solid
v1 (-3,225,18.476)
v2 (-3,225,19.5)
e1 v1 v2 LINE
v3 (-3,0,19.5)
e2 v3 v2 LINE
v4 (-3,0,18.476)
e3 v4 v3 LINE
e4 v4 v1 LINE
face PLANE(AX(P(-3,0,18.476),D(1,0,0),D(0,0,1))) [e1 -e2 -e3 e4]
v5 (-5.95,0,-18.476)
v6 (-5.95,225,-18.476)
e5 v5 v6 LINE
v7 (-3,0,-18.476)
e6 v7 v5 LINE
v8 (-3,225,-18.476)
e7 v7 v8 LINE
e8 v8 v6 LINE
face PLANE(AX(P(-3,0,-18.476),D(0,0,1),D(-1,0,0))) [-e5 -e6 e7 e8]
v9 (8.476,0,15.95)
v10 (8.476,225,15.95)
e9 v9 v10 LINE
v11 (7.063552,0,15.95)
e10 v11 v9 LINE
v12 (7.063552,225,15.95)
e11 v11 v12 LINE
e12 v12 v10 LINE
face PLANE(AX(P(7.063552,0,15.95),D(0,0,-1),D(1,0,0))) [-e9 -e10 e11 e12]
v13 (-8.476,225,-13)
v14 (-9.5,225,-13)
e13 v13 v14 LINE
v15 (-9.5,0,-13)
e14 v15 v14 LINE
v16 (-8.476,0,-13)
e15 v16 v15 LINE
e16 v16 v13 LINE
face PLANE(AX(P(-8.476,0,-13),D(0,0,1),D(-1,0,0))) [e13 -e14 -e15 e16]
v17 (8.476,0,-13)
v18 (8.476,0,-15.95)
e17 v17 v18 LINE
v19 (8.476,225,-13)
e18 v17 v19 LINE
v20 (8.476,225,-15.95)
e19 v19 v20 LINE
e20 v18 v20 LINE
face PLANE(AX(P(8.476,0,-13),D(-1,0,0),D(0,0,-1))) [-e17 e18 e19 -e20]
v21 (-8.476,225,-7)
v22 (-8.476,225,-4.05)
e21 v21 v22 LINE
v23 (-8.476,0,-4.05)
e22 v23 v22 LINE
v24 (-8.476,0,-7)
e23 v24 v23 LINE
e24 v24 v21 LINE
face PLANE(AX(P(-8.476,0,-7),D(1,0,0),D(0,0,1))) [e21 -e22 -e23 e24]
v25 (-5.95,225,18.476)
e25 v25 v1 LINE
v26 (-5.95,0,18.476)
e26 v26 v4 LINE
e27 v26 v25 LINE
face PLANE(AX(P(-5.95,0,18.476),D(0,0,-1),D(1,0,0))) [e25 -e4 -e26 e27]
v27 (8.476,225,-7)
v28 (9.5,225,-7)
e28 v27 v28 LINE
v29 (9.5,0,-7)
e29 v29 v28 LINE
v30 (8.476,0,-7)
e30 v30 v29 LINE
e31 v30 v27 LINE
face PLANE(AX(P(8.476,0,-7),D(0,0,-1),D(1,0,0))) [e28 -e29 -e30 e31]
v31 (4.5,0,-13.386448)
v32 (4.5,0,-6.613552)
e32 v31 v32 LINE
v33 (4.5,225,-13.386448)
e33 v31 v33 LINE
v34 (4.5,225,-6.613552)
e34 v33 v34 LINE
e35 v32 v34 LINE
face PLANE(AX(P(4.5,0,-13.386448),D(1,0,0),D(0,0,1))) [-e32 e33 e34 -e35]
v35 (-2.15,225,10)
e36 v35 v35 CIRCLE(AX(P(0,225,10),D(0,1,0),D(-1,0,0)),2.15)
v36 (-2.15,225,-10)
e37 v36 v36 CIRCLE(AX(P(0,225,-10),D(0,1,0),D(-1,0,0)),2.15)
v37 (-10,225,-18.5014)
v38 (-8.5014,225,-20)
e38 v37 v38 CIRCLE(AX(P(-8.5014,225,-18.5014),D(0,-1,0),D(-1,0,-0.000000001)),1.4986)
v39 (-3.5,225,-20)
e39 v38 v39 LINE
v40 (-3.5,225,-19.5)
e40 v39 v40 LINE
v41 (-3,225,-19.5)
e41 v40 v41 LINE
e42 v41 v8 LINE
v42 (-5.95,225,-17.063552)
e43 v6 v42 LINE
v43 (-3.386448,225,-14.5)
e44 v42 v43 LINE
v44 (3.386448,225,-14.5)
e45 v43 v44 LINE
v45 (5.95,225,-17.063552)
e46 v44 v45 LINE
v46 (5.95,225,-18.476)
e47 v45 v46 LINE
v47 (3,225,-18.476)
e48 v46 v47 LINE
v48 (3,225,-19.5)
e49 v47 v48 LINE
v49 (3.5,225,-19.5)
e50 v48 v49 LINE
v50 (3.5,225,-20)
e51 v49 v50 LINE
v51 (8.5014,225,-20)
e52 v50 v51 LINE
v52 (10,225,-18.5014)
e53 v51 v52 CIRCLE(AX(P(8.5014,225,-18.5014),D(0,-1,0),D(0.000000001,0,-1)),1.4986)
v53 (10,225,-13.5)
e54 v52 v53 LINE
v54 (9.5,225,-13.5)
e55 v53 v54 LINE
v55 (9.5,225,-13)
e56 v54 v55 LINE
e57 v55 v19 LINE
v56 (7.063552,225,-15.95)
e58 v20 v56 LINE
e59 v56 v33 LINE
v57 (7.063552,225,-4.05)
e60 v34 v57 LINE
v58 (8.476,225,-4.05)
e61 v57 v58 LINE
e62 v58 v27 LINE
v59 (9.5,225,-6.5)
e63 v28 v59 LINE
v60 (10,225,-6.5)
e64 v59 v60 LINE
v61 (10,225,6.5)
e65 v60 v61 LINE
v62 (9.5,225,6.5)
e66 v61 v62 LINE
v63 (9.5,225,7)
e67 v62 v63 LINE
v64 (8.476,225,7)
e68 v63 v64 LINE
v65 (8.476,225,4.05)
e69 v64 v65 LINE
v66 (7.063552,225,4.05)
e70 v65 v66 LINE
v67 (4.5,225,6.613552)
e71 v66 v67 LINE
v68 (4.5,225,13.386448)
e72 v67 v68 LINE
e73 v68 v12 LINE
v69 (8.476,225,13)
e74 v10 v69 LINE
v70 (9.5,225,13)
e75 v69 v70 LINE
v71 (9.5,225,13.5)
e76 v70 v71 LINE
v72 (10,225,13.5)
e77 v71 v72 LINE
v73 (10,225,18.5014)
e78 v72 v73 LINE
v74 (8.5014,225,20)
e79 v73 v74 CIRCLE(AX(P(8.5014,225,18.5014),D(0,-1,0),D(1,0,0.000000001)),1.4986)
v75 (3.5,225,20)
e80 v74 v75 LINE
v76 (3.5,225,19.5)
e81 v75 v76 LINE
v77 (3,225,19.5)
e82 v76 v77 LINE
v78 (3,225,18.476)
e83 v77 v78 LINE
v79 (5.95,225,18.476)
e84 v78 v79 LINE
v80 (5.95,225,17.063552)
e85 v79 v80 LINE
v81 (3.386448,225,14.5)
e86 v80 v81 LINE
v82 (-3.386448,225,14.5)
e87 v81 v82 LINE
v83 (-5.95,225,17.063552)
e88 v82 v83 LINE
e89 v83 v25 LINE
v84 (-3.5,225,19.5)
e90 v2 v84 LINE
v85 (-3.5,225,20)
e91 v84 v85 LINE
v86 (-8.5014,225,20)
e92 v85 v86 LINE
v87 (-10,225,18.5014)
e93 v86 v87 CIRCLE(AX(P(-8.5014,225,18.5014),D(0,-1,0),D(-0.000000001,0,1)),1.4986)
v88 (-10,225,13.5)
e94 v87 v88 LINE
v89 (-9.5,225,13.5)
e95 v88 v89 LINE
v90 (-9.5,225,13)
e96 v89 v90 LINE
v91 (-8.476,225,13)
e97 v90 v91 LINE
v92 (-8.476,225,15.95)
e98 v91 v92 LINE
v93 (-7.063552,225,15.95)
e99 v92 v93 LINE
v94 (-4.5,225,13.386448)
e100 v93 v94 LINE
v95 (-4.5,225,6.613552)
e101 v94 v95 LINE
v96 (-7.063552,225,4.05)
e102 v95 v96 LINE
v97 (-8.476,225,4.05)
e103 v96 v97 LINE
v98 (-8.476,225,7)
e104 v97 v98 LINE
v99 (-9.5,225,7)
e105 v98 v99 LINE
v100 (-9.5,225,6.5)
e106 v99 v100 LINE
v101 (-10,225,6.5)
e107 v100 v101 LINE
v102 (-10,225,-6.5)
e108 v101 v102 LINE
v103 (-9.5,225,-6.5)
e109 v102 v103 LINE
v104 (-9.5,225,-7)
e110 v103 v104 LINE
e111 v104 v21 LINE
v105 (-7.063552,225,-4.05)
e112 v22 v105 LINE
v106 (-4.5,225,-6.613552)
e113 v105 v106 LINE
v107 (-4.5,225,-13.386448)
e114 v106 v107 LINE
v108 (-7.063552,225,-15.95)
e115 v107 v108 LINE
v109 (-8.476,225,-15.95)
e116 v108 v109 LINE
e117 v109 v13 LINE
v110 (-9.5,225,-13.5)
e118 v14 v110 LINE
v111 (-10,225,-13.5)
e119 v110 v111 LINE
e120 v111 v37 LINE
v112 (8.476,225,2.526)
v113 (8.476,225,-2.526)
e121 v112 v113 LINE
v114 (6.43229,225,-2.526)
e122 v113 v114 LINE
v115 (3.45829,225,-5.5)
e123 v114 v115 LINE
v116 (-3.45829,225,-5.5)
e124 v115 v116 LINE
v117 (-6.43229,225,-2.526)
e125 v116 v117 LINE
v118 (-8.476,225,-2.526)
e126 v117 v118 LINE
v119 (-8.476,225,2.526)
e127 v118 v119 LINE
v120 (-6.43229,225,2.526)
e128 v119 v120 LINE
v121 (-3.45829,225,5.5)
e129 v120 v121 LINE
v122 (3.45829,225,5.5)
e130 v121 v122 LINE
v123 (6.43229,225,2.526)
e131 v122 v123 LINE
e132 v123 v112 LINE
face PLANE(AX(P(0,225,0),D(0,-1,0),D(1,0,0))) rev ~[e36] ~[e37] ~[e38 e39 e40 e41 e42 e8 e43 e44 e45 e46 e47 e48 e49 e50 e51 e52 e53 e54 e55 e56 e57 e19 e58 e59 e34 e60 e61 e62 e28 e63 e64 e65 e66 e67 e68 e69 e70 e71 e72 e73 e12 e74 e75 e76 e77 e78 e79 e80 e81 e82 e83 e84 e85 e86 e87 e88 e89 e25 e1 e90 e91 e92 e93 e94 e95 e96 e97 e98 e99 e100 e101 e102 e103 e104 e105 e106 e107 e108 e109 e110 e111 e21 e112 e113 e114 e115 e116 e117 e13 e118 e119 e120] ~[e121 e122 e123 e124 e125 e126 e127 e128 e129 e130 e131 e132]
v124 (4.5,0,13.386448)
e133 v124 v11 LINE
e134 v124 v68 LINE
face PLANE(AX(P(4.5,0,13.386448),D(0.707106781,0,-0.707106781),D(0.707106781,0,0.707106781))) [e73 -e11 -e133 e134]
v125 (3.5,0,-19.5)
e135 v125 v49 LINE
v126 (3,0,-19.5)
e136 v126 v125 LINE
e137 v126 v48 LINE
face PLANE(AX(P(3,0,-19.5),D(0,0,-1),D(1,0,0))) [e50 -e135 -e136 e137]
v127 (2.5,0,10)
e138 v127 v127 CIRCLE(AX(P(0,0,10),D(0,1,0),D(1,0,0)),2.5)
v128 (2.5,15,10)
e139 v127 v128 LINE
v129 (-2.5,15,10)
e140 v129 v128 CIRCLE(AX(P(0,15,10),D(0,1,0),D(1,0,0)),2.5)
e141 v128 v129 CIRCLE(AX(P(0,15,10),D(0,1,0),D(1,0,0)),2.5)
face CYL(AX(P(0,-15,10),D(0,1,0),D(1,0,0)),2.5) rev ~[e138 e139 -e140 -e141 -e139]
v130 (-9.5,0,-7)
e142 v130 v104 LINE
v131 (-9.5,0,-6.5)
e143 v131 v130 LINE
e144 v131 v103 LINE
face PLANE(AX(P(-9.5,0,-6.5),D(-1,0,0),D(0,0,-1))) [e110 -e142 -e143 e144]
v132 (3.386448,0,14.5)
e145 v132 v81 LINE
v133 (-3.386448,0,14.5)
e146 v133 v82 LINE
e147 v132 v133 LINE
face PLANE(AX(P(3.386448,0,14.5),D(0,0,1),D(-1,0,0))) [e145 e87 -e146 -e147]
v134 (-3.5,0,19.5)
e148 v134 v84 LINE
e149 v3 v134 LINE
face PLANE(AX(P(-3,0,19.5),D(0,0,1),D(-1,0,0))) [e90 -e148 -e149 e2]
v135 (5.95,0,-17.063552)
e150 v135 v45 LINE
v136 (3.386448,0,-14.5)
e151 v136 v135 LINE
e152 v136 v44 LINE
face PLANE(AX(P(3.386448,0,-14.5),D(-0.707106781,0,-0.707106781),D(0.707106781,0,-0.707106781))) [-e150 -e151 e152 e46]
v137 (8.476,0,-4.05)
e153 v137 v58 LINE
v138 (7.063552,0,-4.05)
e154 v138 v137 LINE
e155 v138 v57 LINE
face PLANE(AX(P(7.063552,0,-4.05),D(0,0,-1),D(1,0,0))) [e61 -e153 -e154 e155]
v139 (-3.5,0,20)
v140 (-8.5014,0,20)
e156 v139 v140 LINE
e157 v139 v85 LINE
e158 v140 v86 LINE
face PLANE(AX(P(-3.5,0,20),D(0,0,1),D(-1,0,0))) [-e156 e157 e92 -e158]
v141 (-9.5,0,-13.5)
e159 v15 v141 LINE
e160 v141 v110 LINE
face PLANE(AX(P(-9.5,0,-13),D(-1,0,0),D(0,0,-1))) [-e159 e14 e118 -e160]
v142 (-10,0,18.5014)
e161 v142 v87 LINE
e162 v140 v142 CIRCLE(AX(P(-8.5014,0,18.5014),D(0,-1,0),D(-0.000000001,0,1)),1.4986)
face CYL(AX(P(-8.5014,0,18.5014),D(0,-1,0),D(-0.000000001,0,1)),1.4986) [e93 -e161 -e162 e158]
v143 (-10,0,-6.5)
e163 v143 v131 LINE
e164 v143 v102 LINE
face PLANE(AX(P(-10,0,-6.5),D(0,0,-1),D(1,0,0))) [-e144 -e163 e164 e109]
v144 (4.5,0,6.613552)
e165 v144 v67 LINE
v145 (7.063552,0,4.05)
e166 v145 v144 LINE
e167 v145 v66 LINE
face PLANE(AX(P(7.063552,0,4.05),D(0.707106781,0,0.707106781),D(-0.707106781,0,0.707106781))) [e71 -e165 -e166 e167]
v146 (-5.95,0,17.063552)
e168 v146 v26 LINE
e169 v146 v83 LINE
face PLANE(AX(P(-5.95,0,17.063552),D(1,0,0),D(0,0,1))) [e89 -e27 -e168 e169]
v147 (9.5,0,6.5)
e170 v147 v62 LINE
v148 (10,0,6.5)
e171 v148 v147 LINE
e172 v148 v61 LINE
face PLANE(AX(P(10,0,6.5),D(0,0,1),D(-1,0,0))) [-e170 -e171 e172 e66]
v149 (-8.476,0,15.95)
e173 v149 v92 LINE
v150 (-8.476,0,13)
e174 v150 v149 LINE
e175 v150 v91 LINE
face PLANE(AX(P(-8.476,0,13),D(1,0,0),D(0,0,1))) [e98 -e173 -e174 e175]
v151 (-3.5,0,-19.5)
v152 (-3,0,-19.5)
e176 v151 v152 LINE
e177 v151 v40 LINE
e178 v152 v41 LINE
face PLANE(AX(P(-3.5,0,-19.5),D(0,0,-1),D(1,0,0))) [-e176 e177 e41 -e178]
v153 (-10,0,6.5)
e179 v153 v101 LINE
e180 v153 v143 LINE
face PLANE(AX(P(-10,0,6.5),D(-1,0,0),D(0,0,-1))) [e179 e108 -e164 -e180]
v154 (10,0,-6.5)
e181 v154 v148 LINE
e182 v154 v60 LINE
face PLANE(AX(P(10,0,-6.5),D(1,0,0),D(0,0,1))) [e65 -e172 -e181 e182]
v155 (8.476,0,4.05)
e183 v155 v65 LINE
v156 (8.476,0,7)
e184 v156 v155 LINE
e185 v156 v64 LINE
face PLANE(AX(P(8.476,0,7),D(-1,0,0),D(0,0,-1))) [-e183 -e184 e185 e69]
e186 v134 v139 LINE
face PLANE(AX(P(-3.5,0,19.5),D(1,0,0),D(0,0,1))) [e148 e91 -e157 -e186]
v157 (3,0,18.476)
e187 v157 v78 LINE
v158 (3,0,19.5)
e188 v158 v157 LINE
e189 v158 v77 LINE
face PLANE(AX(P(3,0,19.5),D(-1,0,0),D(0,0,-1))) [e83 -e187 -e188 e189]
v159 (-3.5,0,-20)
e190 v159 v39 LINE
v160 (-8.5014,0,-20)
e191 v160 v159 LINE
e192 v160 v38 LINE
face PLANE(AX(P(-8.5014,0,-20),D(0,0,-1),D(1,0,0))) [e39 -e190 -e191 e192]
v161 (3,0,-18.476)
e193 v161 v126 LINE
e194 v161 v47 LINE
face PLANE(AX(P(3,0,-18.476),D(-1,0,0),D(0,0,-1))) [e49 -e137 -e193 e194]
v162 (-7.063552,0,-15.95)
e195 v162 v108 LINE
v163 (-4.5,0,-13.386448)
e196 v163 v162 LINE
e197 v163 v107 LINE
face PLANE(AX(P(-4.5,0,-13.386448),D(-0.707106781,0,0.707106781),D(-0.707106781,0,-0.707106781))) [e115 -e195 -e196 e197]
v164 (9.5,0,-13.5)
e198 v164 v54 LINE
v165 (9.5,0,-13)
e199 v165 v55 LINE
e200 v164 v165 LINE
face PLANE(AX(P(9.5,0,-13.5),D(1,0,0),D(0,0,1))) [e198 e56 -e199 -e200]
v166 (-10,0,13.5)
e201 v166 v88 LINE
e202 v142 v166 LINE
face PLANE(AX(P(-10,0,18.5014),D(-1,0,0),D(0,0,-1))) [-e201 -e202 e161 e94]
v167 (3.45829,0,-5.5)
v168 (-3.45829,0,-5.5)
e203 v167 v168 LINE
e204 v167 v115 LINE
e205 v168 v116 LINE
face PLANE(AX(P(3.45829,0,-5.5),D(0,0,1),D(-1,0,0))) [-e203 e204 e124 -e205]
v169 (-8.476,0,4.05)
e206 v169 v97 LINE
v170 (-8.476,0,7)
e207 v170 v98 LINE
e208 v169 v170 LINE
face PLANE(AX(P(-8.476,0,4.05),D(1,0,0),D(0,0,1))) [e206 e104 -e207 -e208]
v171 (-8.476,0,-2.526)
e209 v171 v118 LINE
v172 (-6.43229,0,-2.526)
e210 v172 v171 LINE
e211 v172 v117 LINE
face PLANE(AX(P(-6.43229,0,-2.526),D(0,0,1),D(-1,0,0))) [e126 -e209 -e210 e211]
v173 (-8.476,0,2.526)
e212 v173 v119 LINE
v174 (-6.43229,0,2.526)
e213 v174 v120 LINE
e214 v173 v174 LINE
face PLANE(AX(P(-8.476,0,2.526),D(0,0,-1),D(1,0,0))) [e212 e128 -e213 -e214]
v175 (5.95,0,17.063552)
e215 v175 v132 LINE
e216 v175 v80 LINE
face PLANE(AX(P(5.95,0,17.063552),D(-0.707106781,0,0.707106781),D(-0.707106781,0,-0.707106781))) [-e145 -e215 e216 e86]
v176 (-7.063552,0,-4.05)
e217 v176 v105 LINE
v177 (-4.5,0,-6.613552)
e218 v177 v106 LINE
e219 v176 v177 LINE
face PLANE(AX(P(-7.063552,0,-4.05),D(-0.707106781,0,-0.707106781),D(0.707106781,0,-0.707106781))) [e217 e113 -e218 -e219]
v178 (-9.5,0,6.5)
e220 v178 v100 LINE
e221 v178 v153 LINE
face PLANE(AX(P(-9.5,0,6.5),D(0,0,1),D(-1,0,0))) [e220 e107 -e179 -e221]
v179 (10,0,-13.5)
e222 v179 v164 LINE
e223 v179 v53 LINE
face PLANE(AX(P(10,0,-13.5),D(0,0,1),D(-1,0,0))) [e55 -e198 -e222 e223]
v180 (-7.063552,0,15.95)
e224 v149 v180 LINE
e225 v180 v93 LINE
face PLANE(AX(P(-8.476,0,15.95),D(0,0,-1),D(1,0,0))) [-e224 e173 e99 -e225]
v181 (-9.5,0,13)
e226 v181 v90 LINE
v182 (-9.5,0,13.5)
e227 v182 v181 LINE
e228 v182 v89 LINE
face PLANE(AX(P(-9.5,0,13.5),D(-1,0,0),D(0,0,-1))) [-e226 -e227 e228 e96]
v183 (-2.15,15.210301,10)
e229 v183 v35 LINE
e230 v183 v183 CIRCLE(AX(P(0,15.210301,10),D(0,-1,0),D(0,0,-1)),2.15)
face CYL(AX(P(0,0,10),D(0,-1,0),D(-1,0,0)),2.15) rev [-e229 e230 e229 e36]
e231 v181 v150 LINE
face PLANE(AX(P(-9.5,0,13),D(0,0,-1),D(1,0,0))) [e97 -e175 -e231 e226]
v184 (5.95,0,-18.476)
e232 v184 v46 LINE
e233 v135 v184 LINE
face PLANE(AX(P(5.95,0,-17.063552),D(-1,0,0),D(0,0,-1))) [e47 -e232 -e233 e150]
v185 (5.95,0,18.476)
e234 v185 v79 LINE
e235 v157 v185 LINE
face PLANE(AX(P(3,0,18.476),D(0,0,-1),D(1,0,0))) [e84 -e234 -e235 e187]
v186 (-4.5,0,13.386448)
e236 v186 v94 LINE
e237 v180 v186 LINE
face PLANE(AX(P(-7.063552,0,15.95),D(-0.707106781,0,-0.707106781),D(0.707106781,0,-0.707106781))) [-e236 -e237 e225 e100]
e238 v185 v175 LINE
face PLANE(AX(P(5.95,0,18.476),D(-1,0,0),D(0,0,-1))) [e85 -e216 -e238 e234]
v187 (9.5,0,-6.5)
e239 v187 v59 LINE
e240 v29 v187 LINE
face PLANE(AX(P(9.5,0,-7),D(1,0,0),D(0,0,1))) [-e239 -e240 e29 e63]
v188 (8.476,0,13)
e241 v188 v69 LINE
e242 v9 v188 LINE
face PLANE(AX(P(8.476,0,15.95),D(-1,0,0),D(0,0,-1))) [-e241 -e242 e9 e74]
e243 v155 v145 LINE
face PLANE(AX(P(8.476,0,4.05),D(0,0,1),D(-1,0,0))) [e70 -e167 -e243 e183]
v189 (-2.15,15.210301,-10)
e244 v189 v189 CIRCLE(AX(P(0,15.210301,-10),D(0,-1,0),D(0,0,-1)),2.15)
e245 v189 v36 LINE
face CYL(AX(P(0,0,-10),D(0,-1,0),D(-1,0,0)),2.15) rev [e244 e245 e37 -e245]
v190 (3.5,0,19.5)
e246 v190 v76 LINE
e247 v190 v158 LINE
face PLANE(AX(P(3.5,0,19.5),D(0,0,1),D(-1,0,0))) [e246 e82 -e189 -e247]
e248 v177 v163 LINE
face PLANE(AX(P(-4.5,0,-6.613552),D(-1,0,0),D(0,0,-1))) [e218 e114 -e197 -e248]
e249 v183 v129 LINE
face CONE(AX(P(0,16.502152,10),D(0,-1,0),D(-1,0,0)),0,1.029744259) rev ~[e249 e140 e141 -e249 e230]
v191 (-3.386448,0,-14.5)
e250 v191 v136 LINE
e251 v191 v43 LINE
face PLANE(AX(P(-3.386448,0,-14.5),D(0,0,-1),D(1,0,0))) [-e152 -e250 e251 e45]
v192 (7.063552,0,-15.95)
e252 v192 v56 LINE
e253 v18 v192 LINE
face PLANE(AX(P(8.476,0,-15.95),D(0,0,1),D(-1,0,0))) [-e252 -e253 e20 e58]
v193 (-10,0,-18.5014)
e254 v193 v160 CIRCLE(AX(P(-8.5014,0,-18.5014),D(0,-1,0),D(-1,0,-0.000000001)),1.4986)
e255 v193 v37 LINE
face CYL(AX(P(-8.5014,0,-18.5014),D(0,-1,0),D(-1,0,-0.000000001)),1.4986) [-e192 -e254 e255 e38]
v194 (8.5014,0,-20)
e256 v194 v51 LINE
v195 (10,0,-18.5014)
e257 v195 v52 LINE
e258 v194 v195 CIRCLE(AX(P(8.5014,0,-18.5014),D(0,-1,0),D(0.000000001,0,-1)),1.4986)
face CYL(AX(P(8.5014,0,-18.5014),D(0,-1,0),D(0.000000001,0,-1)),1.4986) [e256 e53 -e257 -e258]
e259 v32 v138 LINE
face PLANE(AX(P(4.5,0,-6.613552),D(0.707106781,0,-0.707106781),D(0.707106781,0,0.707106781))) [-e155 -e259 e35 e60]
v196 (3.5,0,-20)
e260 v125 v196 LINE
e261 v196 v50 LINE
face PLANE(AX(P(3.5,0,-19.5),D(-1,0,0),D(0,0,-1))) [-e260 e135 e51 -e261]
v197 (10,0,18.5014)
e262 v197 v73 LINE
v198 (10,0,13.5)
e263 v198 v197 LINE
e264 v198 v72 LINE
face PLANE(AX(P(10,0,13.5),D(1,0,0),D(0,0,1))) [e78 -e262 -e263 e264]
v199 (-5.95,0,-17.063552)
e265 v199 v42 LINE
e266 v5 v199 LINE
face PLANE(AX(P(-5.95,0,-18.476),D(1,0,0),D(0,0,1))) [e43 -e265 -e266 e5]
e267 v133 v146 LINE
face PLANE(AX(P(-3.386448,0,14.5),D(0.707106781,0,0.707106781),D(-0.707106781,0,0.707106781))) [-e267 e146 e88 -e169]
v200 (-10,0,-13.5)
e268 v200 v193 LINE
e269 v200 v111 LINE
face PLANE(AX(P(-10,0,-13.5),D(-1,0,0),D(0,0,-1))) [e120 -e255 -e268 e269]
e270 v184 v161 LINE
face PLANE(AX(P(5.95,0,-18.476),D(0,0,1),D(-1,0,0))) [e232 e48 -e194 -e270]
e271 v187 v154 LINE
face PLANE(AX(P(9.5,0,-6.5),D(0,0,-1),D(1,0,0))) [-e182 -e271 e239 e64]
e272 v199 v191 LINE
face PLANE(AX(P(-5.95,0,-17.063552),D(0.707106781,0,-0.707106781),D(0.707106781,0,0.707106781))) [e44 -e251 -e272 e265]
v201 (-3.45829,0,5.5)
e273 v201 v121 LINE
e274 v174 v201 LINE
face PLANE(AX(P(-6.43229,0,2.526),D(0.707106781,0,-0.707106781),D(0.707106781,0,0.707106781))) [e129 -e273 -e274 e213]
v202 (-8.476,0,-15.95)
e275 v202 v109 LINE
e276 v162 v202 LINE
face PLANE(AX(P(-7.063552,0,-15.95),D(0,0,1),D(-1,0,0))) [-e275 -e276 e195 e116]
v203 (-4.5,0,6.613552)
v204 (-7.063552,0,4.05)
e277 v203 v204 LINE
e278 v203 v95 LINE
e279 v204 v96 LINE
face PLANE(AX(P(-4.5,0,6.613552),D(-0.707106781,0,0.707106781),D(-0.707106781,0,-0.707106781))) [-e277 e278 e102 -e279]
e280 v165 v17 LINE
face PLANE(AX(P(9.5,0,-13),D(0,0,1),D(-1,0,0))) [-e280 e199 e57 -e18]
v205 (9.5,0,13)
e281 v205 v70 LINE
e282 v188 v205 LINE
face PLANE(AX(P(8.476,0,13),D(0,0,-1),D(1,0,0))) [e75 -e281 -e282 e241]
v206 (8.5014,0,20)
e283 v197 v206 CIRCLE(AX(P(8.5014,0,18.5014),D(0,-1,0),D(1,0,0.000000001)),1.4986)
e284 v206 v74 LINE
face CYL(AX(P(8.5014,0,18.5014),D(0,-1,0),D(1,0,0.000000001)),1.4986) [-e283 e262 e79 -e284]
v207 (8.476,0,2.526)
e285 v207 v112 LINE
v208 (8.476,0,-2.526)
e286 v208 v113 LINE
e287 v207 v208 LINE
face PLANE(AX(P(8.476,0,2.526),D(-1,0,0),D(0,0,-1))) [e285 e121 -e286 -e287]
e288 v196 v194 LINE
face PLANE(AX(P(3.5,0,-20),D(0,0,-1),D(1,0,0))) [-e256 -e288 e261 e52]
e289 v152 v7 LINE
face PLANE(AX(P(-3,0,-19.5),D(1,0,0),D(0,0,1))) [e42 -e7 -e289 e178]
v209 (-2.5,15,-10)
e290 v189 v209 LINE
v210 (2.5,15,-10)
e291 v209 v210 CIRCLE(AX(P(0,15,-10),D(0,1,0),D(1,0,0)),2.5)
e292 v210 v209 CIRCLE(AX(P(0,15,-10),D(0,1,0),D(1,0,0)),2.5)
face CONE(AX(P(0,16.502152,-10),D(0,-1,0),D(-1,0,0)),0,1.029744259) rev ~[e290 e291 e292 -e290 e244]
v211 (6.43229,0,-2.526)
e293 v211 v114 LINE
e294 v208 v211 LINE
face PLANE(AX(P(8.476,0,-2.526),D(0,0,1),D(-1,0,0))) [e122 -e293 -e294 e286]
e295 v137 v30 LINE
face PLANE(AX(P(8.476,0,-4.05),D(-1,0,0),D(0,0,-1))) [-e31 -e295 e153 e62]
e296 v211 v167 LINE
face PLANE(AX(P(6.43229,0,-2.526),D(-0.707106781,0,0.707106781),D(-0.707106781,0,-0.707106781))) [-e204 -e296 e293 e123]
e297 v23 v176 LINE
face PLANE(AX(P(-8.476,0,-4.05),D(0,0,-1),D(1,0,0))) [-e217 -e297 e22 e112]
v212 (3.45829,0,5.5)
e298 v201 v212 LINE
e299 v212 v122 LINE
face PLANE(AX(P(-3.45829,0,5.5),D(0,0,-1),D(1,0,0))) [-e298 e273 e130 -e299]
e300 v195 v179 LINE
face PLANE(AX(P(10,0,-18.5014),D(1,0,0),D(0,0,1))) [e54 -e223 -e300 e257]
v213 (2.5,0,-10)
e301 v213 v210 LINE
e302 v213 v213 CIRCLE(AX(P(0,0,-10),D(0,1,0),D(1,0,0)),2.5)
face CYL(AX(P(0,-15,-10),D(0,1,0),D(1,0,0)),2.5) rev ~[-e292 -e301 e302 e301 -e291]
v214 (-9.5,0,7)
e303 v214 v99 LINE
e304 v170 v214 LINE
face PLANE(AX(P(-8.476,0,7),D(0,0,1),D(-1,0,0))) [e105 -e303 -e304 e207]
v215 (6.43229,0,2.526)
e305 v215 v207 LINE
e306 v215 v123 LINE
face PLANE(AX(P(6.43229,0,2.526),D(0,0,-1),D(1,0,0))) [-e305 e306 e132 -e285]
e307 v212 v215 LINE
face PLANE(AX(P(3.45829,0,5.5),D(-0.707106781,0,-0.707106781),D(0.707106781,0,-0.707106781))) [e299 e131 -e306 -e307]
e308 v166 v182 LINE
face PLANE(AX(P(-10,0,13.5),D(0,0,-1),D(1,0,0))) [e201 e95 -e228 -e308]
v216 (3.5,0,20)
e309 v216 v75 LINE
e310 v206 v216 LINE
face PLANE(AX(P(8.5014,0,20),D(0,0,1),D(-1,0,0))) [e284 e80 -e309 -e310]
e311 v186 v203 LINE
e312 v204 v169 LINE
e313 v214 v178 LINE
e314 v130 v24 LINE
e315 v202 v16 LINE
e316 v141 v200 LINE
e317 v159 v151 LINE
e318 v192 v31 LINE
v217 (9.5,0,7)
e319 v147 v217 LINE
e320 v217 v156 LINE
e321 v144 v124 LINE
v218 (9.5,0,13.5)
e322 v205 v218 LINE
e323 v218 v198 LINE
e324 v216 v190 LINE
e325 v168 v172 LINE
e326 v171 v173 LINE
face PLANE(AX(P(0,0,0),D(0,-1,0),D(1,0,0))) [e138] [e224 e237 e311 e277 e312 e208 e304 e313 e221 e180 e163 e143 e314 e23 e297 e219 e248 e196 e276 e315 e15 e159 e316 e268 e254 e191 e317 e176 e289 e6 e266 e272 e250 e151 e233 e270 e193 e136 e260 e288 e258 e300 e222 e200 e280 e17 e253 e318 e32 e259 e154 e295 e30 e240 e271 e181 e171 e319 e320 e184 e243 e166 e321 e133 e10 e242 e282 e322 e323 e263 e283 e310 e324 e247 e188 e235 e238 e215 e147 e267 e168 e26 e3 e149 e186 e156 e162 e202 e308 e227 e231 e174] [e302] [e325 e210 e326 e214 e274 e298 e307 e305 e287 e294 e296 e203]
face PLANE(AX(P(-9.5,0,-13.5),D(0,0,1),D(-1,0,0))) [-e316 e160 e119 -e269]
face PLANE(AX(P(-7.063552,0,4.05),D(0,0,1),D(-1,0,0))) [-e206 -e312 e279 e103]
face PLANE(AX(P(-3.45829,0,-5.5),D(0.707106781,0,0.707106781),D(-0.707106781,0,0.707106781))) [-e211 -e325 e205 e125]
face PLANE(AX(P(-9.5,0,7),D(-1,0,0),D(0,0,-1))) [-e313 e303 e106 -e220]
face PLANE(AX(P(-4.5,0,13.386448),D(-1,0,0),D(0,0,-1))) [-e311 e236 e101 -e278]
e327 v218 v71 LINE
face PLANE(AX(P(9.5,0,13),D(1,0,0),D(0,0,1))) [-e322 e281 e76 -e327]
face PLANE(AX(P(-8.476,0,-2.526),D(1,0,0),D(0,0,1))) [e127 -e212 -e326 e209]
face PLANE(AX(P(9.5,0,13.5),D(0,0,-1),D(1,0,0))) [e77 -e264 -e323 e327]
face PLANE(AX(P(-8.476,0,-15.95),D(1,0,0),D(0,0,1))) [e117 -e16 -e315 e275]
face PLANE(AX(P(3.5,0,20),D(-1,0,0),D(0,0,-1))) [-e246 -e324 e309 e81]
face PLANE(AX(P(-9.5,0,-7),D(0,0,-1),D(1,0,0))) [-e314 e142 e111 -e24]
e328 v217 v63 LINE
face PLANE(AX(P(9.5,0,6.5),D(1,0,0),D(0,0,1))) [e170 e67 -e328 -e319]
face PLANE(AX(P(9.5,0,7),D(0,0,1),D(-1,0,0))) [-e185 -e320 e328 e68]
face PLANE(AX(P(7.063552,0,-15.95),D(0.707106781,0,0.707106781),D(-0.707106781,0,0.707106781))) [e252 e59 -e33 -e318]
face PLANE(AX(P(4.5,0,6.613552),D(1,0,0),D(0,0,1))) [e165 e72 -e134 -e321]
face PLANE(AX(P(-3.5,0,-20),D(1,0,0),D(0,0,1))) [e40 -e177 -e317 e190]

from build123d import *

# Parameters (mm, degrees)
SKETCH22_R                       = 2.15
F_20_SERIES_TS20_40B_5MM_1_DEPTH = 225
M6X1_0_TAPPED_HOLE2_D            = 5
M6X1_0_TAPPED_HOLE2_DEPTH        = 15
M6X1_0_TAPPED_HOLE2_TIP          = 1.502151548


with BuildPart() as part:
    # Sketch22 → 20 series TS20-40B_5MM(1) (new body)
    with BuildSketch(Plane(origin=(0, 0, 0), x_dir=(-1, 0, 0), z_dir=(0, 1, 0))):
        with BuildLine():
            Line((-9.5, 7), (-8.476, 7))
            Line((-8.476, 7), (-8.476, 4.05))
            Line((-8.476, 4.05), (-7.063551759, 4.05))
            Line((-7.063551759, 4.05), (-4.5, 6.613551759))
            Line((-4.5, 6.613551759), (-4.5, 13.386448241))
            Line((-4.5, 13.386448241), (-7.063551759, 15.95))
            Line((-7.063551759, 15.95), (-8.476, 15.95))
            Line((-8.476, 15.95), (-8.476, 13))
            Line((-8.476, 13), (-9.5, 13))
            Line((-9.5, 13), (-9.5, 13.5))
            Line((-9.5, 13.5), (-10, 13.5))
            Line((-10, 13.5), (-10, 18.5014))
            ThreePointArc((-10, 18.5014), (-9.561070222, 19.561070222), (-8.5014, 20))
            Line((-8.5014, 20), (-3.5, 20))
            Line((-3.5, 20), (-3.5, 19.5))
            Line((-3.5, 19.5), (-3, 19.5))
            Line((-3, 19.5), (-3, 18.476))
            Line((-3, 18.476), (-5.95, 18.476))
            Line((-5.95, 18.476), (-5.95, 17.063551759))
            Line((-5.95, 17.063551759), (-3.386448241, 14.5))
            Line((-3.386448241, 14.5), (3.386448241, 14.5))
            Line((3.386448241, 14.5), (5.95, 17.063551759))
            Line((5.95, 17.063551759), (5.95, 18.476))
            Line((5.95, 18.476), (3, 18.476))
            Line((3, 18.476), (3, 19.5))
            Line((3, 19.5), (3.5, 19.5))
            Line((3.5, 19.5), (3.5, 20))
            Line((3.5, 20), (8.5014, 20))
            ThreePointArc((8.5014, 20), (9.561070222, 19.561070222), (10, 18.5014))
            Line((10, 18.5014), (10, 13.5))
            Line((10, 13.5), (9.5, 13.5))
            Line((9.5, 13.5), (9.5, 13))
            Line((9.5, 13), (8.476, 13))
            Line((8.476, 13), (8.476, 15.95))
            Line((8.476, 15.95), (7.063551759, 15.95))
            Line((7.063551759, 15.95), (4.5, 13.386448241))
            Line((4.5, 13.386448241), (4.5, 6.613551759))
            Line((4.5, 6.613551759), (7.063551759, 4.05))
            Line((7.063551759, 4.05), (8.476, 4.05))
            Line((8.476, 4.05), (8.476, 7))
            Line((8.476, 7), (9.5, 7))
            Line((9.5, 7), (9.5, 6.5))
            Line((9.5, 6.5), (10, 6.5))
            Line((10, 6.5), (10, -6.5))
            Line((10, -6.5), (9.5, -6.5))
            Line((9.5, -6.5), (9.5, -7))
            Line((9.5, -7), (8.476, -7))
            Line((8.476, -7), (8.476, -4.05))
            Line((8.476, -4.05), (7.063551759, -4.05))
            Line((7.063551759, -4.05), (4.5, -6.613551759))
            Line((4.5, -6.613551759), (4.5, -13.386448241))
            Line((4.5, -13.386448241), (7.063551759, -15.95))
            Line((7.063551759, -15.95), (8.476, -15.95))
            Line((8.476, -15.95), (8.476, -13))
            Line((8.476, -13), (9.5, -13))
            Line((9.5, -13), (9.5, -13.5))
            Line((9.5, -13.5), (10, -13.5))
            Line((10, -13.5), (10, -18.5014))
            ThreePointArc((10, -18.5014), (9.561070222, -19.561070222), (8.5014, -20))
            Line((8.5014, -20), (3.5, -20))
            Line((3.5, -20), (3.5, -19.5))
            Line((3.5, -19.5), (3, -19.5))
            Line((3, -19.5), (3, -18.476))
            Line((3, -18.476), (5.95, -18.476))
            Line((5.95, -18.476), (5.95, -17.063551759))
            Line((5.95, -17.063551759), (3.386448241, -14.5))
            Line((3.386448241, -14.5), (-3.386448241, -14.5))
            Line((-3.386448241, -14.5), (-5.95, -17.063551759))
            Line((-5.95, -17.063551759), (-5.95, -18.476))
            Line((-5.95, -18.476), (-3, -18.476))
            Line((-3, -18.476), (-3, -19.5))
            Line((-3, -19.5), (-3.5, -19.5))
            Line((-3.5, -19.5), (-3.5, -20))
            Line((-3.5, -20), (-8.5014, -20))
            ThreePointArc((-8.5014, -20), (-9.561070222, -19.561070222), (-10, -18.5014))
            Line((-10, -18.5014), (-10, -13.5))
            Line((-10, -13.5), (-9.5, -13.5))
            Line((-9.5, -13.5), (-9.5, -13))
            Line((-9.5, -13), (-8.476, -13))
            Line((-8.476, -13), (-8.476, -15.95))
            Line((-8.476, -15.95), (-7.063551759, -15.95))
            Line((-7.063551759, -15.95), (-4.5, -13.386448241))
            Line((-4.5, -13.386448241), (-4.5, -6.613551759))
            Line((-4.5, -6.613551759), (-7.063551759, -4.05))
            Line((-7.063551759, -4.05), (-8.476, -4.05))
            Line((-8.476, -4.05), (-8.476, -7))
            Line((-8.476, -7), (-9.5, -7))
            Line((-9.5, -7), (-9.5, -6.5))
            Line((-9.5, -6.5), (-10, -6.5))
            Line((-10, -6.5), (-10, 6.5))
            Line((-10, 6.5), (-9.5, 6.5))
            Line((-9.5, 6.5), (-9.5, 7))
        make_face()
        with Locations((0, 10)):
            Circle(SKETCH22_R, mode=Mode.SUBTRACT)
        with Locations((0, -10)):
            Circle(SKETCH22_R, mode=Mode.SUBTRACT)
        Polygon((-3.45829029, 5.5), (-6.43229029, 2.526), (-8.476, 2.526), (-8.476, -2.526), (-6.43229029, -2.526), (-3.45829029, -5.5), (3.45829029, -5.5), (6.43229029, -2.526), (8.476, -2.526), (8.476, 2.526), (6.43229029, 2.526), (3.45829029, 5.5), align=None, mode=Mode.SUBTRACT)
    extrude(amount=F_20_SERIES_TS20_40B_5MM_1_DEPTH)

    # M6x1.0 Tapped Hole2
    with Locations(Plane(origin=(0, 0, 0), x_dir=(-1, 0, 0), z_dir=(0, -1, 0))):
        with Locations((0, 10), (0, -10)):
            Hole(M6X1_0_TAPPED_HOLE2_D / 2, depth=M6X1_0_TAPPED_HOLE2_DEPTH)
            with Locations((0, 0, -(M6X1_0_TAPPED_HOLE2_DEPTH + M6X1_0_TAPPED_HOLE2_TIP / 2))):  # 118° drill point
                Cone(0, M6X1_0_TAPPED_HOLE2_D / 2, M6X1_0_TAPPED_HOLE2_TIP, mode=Mode.SUBTRACT)


solid = part.part
